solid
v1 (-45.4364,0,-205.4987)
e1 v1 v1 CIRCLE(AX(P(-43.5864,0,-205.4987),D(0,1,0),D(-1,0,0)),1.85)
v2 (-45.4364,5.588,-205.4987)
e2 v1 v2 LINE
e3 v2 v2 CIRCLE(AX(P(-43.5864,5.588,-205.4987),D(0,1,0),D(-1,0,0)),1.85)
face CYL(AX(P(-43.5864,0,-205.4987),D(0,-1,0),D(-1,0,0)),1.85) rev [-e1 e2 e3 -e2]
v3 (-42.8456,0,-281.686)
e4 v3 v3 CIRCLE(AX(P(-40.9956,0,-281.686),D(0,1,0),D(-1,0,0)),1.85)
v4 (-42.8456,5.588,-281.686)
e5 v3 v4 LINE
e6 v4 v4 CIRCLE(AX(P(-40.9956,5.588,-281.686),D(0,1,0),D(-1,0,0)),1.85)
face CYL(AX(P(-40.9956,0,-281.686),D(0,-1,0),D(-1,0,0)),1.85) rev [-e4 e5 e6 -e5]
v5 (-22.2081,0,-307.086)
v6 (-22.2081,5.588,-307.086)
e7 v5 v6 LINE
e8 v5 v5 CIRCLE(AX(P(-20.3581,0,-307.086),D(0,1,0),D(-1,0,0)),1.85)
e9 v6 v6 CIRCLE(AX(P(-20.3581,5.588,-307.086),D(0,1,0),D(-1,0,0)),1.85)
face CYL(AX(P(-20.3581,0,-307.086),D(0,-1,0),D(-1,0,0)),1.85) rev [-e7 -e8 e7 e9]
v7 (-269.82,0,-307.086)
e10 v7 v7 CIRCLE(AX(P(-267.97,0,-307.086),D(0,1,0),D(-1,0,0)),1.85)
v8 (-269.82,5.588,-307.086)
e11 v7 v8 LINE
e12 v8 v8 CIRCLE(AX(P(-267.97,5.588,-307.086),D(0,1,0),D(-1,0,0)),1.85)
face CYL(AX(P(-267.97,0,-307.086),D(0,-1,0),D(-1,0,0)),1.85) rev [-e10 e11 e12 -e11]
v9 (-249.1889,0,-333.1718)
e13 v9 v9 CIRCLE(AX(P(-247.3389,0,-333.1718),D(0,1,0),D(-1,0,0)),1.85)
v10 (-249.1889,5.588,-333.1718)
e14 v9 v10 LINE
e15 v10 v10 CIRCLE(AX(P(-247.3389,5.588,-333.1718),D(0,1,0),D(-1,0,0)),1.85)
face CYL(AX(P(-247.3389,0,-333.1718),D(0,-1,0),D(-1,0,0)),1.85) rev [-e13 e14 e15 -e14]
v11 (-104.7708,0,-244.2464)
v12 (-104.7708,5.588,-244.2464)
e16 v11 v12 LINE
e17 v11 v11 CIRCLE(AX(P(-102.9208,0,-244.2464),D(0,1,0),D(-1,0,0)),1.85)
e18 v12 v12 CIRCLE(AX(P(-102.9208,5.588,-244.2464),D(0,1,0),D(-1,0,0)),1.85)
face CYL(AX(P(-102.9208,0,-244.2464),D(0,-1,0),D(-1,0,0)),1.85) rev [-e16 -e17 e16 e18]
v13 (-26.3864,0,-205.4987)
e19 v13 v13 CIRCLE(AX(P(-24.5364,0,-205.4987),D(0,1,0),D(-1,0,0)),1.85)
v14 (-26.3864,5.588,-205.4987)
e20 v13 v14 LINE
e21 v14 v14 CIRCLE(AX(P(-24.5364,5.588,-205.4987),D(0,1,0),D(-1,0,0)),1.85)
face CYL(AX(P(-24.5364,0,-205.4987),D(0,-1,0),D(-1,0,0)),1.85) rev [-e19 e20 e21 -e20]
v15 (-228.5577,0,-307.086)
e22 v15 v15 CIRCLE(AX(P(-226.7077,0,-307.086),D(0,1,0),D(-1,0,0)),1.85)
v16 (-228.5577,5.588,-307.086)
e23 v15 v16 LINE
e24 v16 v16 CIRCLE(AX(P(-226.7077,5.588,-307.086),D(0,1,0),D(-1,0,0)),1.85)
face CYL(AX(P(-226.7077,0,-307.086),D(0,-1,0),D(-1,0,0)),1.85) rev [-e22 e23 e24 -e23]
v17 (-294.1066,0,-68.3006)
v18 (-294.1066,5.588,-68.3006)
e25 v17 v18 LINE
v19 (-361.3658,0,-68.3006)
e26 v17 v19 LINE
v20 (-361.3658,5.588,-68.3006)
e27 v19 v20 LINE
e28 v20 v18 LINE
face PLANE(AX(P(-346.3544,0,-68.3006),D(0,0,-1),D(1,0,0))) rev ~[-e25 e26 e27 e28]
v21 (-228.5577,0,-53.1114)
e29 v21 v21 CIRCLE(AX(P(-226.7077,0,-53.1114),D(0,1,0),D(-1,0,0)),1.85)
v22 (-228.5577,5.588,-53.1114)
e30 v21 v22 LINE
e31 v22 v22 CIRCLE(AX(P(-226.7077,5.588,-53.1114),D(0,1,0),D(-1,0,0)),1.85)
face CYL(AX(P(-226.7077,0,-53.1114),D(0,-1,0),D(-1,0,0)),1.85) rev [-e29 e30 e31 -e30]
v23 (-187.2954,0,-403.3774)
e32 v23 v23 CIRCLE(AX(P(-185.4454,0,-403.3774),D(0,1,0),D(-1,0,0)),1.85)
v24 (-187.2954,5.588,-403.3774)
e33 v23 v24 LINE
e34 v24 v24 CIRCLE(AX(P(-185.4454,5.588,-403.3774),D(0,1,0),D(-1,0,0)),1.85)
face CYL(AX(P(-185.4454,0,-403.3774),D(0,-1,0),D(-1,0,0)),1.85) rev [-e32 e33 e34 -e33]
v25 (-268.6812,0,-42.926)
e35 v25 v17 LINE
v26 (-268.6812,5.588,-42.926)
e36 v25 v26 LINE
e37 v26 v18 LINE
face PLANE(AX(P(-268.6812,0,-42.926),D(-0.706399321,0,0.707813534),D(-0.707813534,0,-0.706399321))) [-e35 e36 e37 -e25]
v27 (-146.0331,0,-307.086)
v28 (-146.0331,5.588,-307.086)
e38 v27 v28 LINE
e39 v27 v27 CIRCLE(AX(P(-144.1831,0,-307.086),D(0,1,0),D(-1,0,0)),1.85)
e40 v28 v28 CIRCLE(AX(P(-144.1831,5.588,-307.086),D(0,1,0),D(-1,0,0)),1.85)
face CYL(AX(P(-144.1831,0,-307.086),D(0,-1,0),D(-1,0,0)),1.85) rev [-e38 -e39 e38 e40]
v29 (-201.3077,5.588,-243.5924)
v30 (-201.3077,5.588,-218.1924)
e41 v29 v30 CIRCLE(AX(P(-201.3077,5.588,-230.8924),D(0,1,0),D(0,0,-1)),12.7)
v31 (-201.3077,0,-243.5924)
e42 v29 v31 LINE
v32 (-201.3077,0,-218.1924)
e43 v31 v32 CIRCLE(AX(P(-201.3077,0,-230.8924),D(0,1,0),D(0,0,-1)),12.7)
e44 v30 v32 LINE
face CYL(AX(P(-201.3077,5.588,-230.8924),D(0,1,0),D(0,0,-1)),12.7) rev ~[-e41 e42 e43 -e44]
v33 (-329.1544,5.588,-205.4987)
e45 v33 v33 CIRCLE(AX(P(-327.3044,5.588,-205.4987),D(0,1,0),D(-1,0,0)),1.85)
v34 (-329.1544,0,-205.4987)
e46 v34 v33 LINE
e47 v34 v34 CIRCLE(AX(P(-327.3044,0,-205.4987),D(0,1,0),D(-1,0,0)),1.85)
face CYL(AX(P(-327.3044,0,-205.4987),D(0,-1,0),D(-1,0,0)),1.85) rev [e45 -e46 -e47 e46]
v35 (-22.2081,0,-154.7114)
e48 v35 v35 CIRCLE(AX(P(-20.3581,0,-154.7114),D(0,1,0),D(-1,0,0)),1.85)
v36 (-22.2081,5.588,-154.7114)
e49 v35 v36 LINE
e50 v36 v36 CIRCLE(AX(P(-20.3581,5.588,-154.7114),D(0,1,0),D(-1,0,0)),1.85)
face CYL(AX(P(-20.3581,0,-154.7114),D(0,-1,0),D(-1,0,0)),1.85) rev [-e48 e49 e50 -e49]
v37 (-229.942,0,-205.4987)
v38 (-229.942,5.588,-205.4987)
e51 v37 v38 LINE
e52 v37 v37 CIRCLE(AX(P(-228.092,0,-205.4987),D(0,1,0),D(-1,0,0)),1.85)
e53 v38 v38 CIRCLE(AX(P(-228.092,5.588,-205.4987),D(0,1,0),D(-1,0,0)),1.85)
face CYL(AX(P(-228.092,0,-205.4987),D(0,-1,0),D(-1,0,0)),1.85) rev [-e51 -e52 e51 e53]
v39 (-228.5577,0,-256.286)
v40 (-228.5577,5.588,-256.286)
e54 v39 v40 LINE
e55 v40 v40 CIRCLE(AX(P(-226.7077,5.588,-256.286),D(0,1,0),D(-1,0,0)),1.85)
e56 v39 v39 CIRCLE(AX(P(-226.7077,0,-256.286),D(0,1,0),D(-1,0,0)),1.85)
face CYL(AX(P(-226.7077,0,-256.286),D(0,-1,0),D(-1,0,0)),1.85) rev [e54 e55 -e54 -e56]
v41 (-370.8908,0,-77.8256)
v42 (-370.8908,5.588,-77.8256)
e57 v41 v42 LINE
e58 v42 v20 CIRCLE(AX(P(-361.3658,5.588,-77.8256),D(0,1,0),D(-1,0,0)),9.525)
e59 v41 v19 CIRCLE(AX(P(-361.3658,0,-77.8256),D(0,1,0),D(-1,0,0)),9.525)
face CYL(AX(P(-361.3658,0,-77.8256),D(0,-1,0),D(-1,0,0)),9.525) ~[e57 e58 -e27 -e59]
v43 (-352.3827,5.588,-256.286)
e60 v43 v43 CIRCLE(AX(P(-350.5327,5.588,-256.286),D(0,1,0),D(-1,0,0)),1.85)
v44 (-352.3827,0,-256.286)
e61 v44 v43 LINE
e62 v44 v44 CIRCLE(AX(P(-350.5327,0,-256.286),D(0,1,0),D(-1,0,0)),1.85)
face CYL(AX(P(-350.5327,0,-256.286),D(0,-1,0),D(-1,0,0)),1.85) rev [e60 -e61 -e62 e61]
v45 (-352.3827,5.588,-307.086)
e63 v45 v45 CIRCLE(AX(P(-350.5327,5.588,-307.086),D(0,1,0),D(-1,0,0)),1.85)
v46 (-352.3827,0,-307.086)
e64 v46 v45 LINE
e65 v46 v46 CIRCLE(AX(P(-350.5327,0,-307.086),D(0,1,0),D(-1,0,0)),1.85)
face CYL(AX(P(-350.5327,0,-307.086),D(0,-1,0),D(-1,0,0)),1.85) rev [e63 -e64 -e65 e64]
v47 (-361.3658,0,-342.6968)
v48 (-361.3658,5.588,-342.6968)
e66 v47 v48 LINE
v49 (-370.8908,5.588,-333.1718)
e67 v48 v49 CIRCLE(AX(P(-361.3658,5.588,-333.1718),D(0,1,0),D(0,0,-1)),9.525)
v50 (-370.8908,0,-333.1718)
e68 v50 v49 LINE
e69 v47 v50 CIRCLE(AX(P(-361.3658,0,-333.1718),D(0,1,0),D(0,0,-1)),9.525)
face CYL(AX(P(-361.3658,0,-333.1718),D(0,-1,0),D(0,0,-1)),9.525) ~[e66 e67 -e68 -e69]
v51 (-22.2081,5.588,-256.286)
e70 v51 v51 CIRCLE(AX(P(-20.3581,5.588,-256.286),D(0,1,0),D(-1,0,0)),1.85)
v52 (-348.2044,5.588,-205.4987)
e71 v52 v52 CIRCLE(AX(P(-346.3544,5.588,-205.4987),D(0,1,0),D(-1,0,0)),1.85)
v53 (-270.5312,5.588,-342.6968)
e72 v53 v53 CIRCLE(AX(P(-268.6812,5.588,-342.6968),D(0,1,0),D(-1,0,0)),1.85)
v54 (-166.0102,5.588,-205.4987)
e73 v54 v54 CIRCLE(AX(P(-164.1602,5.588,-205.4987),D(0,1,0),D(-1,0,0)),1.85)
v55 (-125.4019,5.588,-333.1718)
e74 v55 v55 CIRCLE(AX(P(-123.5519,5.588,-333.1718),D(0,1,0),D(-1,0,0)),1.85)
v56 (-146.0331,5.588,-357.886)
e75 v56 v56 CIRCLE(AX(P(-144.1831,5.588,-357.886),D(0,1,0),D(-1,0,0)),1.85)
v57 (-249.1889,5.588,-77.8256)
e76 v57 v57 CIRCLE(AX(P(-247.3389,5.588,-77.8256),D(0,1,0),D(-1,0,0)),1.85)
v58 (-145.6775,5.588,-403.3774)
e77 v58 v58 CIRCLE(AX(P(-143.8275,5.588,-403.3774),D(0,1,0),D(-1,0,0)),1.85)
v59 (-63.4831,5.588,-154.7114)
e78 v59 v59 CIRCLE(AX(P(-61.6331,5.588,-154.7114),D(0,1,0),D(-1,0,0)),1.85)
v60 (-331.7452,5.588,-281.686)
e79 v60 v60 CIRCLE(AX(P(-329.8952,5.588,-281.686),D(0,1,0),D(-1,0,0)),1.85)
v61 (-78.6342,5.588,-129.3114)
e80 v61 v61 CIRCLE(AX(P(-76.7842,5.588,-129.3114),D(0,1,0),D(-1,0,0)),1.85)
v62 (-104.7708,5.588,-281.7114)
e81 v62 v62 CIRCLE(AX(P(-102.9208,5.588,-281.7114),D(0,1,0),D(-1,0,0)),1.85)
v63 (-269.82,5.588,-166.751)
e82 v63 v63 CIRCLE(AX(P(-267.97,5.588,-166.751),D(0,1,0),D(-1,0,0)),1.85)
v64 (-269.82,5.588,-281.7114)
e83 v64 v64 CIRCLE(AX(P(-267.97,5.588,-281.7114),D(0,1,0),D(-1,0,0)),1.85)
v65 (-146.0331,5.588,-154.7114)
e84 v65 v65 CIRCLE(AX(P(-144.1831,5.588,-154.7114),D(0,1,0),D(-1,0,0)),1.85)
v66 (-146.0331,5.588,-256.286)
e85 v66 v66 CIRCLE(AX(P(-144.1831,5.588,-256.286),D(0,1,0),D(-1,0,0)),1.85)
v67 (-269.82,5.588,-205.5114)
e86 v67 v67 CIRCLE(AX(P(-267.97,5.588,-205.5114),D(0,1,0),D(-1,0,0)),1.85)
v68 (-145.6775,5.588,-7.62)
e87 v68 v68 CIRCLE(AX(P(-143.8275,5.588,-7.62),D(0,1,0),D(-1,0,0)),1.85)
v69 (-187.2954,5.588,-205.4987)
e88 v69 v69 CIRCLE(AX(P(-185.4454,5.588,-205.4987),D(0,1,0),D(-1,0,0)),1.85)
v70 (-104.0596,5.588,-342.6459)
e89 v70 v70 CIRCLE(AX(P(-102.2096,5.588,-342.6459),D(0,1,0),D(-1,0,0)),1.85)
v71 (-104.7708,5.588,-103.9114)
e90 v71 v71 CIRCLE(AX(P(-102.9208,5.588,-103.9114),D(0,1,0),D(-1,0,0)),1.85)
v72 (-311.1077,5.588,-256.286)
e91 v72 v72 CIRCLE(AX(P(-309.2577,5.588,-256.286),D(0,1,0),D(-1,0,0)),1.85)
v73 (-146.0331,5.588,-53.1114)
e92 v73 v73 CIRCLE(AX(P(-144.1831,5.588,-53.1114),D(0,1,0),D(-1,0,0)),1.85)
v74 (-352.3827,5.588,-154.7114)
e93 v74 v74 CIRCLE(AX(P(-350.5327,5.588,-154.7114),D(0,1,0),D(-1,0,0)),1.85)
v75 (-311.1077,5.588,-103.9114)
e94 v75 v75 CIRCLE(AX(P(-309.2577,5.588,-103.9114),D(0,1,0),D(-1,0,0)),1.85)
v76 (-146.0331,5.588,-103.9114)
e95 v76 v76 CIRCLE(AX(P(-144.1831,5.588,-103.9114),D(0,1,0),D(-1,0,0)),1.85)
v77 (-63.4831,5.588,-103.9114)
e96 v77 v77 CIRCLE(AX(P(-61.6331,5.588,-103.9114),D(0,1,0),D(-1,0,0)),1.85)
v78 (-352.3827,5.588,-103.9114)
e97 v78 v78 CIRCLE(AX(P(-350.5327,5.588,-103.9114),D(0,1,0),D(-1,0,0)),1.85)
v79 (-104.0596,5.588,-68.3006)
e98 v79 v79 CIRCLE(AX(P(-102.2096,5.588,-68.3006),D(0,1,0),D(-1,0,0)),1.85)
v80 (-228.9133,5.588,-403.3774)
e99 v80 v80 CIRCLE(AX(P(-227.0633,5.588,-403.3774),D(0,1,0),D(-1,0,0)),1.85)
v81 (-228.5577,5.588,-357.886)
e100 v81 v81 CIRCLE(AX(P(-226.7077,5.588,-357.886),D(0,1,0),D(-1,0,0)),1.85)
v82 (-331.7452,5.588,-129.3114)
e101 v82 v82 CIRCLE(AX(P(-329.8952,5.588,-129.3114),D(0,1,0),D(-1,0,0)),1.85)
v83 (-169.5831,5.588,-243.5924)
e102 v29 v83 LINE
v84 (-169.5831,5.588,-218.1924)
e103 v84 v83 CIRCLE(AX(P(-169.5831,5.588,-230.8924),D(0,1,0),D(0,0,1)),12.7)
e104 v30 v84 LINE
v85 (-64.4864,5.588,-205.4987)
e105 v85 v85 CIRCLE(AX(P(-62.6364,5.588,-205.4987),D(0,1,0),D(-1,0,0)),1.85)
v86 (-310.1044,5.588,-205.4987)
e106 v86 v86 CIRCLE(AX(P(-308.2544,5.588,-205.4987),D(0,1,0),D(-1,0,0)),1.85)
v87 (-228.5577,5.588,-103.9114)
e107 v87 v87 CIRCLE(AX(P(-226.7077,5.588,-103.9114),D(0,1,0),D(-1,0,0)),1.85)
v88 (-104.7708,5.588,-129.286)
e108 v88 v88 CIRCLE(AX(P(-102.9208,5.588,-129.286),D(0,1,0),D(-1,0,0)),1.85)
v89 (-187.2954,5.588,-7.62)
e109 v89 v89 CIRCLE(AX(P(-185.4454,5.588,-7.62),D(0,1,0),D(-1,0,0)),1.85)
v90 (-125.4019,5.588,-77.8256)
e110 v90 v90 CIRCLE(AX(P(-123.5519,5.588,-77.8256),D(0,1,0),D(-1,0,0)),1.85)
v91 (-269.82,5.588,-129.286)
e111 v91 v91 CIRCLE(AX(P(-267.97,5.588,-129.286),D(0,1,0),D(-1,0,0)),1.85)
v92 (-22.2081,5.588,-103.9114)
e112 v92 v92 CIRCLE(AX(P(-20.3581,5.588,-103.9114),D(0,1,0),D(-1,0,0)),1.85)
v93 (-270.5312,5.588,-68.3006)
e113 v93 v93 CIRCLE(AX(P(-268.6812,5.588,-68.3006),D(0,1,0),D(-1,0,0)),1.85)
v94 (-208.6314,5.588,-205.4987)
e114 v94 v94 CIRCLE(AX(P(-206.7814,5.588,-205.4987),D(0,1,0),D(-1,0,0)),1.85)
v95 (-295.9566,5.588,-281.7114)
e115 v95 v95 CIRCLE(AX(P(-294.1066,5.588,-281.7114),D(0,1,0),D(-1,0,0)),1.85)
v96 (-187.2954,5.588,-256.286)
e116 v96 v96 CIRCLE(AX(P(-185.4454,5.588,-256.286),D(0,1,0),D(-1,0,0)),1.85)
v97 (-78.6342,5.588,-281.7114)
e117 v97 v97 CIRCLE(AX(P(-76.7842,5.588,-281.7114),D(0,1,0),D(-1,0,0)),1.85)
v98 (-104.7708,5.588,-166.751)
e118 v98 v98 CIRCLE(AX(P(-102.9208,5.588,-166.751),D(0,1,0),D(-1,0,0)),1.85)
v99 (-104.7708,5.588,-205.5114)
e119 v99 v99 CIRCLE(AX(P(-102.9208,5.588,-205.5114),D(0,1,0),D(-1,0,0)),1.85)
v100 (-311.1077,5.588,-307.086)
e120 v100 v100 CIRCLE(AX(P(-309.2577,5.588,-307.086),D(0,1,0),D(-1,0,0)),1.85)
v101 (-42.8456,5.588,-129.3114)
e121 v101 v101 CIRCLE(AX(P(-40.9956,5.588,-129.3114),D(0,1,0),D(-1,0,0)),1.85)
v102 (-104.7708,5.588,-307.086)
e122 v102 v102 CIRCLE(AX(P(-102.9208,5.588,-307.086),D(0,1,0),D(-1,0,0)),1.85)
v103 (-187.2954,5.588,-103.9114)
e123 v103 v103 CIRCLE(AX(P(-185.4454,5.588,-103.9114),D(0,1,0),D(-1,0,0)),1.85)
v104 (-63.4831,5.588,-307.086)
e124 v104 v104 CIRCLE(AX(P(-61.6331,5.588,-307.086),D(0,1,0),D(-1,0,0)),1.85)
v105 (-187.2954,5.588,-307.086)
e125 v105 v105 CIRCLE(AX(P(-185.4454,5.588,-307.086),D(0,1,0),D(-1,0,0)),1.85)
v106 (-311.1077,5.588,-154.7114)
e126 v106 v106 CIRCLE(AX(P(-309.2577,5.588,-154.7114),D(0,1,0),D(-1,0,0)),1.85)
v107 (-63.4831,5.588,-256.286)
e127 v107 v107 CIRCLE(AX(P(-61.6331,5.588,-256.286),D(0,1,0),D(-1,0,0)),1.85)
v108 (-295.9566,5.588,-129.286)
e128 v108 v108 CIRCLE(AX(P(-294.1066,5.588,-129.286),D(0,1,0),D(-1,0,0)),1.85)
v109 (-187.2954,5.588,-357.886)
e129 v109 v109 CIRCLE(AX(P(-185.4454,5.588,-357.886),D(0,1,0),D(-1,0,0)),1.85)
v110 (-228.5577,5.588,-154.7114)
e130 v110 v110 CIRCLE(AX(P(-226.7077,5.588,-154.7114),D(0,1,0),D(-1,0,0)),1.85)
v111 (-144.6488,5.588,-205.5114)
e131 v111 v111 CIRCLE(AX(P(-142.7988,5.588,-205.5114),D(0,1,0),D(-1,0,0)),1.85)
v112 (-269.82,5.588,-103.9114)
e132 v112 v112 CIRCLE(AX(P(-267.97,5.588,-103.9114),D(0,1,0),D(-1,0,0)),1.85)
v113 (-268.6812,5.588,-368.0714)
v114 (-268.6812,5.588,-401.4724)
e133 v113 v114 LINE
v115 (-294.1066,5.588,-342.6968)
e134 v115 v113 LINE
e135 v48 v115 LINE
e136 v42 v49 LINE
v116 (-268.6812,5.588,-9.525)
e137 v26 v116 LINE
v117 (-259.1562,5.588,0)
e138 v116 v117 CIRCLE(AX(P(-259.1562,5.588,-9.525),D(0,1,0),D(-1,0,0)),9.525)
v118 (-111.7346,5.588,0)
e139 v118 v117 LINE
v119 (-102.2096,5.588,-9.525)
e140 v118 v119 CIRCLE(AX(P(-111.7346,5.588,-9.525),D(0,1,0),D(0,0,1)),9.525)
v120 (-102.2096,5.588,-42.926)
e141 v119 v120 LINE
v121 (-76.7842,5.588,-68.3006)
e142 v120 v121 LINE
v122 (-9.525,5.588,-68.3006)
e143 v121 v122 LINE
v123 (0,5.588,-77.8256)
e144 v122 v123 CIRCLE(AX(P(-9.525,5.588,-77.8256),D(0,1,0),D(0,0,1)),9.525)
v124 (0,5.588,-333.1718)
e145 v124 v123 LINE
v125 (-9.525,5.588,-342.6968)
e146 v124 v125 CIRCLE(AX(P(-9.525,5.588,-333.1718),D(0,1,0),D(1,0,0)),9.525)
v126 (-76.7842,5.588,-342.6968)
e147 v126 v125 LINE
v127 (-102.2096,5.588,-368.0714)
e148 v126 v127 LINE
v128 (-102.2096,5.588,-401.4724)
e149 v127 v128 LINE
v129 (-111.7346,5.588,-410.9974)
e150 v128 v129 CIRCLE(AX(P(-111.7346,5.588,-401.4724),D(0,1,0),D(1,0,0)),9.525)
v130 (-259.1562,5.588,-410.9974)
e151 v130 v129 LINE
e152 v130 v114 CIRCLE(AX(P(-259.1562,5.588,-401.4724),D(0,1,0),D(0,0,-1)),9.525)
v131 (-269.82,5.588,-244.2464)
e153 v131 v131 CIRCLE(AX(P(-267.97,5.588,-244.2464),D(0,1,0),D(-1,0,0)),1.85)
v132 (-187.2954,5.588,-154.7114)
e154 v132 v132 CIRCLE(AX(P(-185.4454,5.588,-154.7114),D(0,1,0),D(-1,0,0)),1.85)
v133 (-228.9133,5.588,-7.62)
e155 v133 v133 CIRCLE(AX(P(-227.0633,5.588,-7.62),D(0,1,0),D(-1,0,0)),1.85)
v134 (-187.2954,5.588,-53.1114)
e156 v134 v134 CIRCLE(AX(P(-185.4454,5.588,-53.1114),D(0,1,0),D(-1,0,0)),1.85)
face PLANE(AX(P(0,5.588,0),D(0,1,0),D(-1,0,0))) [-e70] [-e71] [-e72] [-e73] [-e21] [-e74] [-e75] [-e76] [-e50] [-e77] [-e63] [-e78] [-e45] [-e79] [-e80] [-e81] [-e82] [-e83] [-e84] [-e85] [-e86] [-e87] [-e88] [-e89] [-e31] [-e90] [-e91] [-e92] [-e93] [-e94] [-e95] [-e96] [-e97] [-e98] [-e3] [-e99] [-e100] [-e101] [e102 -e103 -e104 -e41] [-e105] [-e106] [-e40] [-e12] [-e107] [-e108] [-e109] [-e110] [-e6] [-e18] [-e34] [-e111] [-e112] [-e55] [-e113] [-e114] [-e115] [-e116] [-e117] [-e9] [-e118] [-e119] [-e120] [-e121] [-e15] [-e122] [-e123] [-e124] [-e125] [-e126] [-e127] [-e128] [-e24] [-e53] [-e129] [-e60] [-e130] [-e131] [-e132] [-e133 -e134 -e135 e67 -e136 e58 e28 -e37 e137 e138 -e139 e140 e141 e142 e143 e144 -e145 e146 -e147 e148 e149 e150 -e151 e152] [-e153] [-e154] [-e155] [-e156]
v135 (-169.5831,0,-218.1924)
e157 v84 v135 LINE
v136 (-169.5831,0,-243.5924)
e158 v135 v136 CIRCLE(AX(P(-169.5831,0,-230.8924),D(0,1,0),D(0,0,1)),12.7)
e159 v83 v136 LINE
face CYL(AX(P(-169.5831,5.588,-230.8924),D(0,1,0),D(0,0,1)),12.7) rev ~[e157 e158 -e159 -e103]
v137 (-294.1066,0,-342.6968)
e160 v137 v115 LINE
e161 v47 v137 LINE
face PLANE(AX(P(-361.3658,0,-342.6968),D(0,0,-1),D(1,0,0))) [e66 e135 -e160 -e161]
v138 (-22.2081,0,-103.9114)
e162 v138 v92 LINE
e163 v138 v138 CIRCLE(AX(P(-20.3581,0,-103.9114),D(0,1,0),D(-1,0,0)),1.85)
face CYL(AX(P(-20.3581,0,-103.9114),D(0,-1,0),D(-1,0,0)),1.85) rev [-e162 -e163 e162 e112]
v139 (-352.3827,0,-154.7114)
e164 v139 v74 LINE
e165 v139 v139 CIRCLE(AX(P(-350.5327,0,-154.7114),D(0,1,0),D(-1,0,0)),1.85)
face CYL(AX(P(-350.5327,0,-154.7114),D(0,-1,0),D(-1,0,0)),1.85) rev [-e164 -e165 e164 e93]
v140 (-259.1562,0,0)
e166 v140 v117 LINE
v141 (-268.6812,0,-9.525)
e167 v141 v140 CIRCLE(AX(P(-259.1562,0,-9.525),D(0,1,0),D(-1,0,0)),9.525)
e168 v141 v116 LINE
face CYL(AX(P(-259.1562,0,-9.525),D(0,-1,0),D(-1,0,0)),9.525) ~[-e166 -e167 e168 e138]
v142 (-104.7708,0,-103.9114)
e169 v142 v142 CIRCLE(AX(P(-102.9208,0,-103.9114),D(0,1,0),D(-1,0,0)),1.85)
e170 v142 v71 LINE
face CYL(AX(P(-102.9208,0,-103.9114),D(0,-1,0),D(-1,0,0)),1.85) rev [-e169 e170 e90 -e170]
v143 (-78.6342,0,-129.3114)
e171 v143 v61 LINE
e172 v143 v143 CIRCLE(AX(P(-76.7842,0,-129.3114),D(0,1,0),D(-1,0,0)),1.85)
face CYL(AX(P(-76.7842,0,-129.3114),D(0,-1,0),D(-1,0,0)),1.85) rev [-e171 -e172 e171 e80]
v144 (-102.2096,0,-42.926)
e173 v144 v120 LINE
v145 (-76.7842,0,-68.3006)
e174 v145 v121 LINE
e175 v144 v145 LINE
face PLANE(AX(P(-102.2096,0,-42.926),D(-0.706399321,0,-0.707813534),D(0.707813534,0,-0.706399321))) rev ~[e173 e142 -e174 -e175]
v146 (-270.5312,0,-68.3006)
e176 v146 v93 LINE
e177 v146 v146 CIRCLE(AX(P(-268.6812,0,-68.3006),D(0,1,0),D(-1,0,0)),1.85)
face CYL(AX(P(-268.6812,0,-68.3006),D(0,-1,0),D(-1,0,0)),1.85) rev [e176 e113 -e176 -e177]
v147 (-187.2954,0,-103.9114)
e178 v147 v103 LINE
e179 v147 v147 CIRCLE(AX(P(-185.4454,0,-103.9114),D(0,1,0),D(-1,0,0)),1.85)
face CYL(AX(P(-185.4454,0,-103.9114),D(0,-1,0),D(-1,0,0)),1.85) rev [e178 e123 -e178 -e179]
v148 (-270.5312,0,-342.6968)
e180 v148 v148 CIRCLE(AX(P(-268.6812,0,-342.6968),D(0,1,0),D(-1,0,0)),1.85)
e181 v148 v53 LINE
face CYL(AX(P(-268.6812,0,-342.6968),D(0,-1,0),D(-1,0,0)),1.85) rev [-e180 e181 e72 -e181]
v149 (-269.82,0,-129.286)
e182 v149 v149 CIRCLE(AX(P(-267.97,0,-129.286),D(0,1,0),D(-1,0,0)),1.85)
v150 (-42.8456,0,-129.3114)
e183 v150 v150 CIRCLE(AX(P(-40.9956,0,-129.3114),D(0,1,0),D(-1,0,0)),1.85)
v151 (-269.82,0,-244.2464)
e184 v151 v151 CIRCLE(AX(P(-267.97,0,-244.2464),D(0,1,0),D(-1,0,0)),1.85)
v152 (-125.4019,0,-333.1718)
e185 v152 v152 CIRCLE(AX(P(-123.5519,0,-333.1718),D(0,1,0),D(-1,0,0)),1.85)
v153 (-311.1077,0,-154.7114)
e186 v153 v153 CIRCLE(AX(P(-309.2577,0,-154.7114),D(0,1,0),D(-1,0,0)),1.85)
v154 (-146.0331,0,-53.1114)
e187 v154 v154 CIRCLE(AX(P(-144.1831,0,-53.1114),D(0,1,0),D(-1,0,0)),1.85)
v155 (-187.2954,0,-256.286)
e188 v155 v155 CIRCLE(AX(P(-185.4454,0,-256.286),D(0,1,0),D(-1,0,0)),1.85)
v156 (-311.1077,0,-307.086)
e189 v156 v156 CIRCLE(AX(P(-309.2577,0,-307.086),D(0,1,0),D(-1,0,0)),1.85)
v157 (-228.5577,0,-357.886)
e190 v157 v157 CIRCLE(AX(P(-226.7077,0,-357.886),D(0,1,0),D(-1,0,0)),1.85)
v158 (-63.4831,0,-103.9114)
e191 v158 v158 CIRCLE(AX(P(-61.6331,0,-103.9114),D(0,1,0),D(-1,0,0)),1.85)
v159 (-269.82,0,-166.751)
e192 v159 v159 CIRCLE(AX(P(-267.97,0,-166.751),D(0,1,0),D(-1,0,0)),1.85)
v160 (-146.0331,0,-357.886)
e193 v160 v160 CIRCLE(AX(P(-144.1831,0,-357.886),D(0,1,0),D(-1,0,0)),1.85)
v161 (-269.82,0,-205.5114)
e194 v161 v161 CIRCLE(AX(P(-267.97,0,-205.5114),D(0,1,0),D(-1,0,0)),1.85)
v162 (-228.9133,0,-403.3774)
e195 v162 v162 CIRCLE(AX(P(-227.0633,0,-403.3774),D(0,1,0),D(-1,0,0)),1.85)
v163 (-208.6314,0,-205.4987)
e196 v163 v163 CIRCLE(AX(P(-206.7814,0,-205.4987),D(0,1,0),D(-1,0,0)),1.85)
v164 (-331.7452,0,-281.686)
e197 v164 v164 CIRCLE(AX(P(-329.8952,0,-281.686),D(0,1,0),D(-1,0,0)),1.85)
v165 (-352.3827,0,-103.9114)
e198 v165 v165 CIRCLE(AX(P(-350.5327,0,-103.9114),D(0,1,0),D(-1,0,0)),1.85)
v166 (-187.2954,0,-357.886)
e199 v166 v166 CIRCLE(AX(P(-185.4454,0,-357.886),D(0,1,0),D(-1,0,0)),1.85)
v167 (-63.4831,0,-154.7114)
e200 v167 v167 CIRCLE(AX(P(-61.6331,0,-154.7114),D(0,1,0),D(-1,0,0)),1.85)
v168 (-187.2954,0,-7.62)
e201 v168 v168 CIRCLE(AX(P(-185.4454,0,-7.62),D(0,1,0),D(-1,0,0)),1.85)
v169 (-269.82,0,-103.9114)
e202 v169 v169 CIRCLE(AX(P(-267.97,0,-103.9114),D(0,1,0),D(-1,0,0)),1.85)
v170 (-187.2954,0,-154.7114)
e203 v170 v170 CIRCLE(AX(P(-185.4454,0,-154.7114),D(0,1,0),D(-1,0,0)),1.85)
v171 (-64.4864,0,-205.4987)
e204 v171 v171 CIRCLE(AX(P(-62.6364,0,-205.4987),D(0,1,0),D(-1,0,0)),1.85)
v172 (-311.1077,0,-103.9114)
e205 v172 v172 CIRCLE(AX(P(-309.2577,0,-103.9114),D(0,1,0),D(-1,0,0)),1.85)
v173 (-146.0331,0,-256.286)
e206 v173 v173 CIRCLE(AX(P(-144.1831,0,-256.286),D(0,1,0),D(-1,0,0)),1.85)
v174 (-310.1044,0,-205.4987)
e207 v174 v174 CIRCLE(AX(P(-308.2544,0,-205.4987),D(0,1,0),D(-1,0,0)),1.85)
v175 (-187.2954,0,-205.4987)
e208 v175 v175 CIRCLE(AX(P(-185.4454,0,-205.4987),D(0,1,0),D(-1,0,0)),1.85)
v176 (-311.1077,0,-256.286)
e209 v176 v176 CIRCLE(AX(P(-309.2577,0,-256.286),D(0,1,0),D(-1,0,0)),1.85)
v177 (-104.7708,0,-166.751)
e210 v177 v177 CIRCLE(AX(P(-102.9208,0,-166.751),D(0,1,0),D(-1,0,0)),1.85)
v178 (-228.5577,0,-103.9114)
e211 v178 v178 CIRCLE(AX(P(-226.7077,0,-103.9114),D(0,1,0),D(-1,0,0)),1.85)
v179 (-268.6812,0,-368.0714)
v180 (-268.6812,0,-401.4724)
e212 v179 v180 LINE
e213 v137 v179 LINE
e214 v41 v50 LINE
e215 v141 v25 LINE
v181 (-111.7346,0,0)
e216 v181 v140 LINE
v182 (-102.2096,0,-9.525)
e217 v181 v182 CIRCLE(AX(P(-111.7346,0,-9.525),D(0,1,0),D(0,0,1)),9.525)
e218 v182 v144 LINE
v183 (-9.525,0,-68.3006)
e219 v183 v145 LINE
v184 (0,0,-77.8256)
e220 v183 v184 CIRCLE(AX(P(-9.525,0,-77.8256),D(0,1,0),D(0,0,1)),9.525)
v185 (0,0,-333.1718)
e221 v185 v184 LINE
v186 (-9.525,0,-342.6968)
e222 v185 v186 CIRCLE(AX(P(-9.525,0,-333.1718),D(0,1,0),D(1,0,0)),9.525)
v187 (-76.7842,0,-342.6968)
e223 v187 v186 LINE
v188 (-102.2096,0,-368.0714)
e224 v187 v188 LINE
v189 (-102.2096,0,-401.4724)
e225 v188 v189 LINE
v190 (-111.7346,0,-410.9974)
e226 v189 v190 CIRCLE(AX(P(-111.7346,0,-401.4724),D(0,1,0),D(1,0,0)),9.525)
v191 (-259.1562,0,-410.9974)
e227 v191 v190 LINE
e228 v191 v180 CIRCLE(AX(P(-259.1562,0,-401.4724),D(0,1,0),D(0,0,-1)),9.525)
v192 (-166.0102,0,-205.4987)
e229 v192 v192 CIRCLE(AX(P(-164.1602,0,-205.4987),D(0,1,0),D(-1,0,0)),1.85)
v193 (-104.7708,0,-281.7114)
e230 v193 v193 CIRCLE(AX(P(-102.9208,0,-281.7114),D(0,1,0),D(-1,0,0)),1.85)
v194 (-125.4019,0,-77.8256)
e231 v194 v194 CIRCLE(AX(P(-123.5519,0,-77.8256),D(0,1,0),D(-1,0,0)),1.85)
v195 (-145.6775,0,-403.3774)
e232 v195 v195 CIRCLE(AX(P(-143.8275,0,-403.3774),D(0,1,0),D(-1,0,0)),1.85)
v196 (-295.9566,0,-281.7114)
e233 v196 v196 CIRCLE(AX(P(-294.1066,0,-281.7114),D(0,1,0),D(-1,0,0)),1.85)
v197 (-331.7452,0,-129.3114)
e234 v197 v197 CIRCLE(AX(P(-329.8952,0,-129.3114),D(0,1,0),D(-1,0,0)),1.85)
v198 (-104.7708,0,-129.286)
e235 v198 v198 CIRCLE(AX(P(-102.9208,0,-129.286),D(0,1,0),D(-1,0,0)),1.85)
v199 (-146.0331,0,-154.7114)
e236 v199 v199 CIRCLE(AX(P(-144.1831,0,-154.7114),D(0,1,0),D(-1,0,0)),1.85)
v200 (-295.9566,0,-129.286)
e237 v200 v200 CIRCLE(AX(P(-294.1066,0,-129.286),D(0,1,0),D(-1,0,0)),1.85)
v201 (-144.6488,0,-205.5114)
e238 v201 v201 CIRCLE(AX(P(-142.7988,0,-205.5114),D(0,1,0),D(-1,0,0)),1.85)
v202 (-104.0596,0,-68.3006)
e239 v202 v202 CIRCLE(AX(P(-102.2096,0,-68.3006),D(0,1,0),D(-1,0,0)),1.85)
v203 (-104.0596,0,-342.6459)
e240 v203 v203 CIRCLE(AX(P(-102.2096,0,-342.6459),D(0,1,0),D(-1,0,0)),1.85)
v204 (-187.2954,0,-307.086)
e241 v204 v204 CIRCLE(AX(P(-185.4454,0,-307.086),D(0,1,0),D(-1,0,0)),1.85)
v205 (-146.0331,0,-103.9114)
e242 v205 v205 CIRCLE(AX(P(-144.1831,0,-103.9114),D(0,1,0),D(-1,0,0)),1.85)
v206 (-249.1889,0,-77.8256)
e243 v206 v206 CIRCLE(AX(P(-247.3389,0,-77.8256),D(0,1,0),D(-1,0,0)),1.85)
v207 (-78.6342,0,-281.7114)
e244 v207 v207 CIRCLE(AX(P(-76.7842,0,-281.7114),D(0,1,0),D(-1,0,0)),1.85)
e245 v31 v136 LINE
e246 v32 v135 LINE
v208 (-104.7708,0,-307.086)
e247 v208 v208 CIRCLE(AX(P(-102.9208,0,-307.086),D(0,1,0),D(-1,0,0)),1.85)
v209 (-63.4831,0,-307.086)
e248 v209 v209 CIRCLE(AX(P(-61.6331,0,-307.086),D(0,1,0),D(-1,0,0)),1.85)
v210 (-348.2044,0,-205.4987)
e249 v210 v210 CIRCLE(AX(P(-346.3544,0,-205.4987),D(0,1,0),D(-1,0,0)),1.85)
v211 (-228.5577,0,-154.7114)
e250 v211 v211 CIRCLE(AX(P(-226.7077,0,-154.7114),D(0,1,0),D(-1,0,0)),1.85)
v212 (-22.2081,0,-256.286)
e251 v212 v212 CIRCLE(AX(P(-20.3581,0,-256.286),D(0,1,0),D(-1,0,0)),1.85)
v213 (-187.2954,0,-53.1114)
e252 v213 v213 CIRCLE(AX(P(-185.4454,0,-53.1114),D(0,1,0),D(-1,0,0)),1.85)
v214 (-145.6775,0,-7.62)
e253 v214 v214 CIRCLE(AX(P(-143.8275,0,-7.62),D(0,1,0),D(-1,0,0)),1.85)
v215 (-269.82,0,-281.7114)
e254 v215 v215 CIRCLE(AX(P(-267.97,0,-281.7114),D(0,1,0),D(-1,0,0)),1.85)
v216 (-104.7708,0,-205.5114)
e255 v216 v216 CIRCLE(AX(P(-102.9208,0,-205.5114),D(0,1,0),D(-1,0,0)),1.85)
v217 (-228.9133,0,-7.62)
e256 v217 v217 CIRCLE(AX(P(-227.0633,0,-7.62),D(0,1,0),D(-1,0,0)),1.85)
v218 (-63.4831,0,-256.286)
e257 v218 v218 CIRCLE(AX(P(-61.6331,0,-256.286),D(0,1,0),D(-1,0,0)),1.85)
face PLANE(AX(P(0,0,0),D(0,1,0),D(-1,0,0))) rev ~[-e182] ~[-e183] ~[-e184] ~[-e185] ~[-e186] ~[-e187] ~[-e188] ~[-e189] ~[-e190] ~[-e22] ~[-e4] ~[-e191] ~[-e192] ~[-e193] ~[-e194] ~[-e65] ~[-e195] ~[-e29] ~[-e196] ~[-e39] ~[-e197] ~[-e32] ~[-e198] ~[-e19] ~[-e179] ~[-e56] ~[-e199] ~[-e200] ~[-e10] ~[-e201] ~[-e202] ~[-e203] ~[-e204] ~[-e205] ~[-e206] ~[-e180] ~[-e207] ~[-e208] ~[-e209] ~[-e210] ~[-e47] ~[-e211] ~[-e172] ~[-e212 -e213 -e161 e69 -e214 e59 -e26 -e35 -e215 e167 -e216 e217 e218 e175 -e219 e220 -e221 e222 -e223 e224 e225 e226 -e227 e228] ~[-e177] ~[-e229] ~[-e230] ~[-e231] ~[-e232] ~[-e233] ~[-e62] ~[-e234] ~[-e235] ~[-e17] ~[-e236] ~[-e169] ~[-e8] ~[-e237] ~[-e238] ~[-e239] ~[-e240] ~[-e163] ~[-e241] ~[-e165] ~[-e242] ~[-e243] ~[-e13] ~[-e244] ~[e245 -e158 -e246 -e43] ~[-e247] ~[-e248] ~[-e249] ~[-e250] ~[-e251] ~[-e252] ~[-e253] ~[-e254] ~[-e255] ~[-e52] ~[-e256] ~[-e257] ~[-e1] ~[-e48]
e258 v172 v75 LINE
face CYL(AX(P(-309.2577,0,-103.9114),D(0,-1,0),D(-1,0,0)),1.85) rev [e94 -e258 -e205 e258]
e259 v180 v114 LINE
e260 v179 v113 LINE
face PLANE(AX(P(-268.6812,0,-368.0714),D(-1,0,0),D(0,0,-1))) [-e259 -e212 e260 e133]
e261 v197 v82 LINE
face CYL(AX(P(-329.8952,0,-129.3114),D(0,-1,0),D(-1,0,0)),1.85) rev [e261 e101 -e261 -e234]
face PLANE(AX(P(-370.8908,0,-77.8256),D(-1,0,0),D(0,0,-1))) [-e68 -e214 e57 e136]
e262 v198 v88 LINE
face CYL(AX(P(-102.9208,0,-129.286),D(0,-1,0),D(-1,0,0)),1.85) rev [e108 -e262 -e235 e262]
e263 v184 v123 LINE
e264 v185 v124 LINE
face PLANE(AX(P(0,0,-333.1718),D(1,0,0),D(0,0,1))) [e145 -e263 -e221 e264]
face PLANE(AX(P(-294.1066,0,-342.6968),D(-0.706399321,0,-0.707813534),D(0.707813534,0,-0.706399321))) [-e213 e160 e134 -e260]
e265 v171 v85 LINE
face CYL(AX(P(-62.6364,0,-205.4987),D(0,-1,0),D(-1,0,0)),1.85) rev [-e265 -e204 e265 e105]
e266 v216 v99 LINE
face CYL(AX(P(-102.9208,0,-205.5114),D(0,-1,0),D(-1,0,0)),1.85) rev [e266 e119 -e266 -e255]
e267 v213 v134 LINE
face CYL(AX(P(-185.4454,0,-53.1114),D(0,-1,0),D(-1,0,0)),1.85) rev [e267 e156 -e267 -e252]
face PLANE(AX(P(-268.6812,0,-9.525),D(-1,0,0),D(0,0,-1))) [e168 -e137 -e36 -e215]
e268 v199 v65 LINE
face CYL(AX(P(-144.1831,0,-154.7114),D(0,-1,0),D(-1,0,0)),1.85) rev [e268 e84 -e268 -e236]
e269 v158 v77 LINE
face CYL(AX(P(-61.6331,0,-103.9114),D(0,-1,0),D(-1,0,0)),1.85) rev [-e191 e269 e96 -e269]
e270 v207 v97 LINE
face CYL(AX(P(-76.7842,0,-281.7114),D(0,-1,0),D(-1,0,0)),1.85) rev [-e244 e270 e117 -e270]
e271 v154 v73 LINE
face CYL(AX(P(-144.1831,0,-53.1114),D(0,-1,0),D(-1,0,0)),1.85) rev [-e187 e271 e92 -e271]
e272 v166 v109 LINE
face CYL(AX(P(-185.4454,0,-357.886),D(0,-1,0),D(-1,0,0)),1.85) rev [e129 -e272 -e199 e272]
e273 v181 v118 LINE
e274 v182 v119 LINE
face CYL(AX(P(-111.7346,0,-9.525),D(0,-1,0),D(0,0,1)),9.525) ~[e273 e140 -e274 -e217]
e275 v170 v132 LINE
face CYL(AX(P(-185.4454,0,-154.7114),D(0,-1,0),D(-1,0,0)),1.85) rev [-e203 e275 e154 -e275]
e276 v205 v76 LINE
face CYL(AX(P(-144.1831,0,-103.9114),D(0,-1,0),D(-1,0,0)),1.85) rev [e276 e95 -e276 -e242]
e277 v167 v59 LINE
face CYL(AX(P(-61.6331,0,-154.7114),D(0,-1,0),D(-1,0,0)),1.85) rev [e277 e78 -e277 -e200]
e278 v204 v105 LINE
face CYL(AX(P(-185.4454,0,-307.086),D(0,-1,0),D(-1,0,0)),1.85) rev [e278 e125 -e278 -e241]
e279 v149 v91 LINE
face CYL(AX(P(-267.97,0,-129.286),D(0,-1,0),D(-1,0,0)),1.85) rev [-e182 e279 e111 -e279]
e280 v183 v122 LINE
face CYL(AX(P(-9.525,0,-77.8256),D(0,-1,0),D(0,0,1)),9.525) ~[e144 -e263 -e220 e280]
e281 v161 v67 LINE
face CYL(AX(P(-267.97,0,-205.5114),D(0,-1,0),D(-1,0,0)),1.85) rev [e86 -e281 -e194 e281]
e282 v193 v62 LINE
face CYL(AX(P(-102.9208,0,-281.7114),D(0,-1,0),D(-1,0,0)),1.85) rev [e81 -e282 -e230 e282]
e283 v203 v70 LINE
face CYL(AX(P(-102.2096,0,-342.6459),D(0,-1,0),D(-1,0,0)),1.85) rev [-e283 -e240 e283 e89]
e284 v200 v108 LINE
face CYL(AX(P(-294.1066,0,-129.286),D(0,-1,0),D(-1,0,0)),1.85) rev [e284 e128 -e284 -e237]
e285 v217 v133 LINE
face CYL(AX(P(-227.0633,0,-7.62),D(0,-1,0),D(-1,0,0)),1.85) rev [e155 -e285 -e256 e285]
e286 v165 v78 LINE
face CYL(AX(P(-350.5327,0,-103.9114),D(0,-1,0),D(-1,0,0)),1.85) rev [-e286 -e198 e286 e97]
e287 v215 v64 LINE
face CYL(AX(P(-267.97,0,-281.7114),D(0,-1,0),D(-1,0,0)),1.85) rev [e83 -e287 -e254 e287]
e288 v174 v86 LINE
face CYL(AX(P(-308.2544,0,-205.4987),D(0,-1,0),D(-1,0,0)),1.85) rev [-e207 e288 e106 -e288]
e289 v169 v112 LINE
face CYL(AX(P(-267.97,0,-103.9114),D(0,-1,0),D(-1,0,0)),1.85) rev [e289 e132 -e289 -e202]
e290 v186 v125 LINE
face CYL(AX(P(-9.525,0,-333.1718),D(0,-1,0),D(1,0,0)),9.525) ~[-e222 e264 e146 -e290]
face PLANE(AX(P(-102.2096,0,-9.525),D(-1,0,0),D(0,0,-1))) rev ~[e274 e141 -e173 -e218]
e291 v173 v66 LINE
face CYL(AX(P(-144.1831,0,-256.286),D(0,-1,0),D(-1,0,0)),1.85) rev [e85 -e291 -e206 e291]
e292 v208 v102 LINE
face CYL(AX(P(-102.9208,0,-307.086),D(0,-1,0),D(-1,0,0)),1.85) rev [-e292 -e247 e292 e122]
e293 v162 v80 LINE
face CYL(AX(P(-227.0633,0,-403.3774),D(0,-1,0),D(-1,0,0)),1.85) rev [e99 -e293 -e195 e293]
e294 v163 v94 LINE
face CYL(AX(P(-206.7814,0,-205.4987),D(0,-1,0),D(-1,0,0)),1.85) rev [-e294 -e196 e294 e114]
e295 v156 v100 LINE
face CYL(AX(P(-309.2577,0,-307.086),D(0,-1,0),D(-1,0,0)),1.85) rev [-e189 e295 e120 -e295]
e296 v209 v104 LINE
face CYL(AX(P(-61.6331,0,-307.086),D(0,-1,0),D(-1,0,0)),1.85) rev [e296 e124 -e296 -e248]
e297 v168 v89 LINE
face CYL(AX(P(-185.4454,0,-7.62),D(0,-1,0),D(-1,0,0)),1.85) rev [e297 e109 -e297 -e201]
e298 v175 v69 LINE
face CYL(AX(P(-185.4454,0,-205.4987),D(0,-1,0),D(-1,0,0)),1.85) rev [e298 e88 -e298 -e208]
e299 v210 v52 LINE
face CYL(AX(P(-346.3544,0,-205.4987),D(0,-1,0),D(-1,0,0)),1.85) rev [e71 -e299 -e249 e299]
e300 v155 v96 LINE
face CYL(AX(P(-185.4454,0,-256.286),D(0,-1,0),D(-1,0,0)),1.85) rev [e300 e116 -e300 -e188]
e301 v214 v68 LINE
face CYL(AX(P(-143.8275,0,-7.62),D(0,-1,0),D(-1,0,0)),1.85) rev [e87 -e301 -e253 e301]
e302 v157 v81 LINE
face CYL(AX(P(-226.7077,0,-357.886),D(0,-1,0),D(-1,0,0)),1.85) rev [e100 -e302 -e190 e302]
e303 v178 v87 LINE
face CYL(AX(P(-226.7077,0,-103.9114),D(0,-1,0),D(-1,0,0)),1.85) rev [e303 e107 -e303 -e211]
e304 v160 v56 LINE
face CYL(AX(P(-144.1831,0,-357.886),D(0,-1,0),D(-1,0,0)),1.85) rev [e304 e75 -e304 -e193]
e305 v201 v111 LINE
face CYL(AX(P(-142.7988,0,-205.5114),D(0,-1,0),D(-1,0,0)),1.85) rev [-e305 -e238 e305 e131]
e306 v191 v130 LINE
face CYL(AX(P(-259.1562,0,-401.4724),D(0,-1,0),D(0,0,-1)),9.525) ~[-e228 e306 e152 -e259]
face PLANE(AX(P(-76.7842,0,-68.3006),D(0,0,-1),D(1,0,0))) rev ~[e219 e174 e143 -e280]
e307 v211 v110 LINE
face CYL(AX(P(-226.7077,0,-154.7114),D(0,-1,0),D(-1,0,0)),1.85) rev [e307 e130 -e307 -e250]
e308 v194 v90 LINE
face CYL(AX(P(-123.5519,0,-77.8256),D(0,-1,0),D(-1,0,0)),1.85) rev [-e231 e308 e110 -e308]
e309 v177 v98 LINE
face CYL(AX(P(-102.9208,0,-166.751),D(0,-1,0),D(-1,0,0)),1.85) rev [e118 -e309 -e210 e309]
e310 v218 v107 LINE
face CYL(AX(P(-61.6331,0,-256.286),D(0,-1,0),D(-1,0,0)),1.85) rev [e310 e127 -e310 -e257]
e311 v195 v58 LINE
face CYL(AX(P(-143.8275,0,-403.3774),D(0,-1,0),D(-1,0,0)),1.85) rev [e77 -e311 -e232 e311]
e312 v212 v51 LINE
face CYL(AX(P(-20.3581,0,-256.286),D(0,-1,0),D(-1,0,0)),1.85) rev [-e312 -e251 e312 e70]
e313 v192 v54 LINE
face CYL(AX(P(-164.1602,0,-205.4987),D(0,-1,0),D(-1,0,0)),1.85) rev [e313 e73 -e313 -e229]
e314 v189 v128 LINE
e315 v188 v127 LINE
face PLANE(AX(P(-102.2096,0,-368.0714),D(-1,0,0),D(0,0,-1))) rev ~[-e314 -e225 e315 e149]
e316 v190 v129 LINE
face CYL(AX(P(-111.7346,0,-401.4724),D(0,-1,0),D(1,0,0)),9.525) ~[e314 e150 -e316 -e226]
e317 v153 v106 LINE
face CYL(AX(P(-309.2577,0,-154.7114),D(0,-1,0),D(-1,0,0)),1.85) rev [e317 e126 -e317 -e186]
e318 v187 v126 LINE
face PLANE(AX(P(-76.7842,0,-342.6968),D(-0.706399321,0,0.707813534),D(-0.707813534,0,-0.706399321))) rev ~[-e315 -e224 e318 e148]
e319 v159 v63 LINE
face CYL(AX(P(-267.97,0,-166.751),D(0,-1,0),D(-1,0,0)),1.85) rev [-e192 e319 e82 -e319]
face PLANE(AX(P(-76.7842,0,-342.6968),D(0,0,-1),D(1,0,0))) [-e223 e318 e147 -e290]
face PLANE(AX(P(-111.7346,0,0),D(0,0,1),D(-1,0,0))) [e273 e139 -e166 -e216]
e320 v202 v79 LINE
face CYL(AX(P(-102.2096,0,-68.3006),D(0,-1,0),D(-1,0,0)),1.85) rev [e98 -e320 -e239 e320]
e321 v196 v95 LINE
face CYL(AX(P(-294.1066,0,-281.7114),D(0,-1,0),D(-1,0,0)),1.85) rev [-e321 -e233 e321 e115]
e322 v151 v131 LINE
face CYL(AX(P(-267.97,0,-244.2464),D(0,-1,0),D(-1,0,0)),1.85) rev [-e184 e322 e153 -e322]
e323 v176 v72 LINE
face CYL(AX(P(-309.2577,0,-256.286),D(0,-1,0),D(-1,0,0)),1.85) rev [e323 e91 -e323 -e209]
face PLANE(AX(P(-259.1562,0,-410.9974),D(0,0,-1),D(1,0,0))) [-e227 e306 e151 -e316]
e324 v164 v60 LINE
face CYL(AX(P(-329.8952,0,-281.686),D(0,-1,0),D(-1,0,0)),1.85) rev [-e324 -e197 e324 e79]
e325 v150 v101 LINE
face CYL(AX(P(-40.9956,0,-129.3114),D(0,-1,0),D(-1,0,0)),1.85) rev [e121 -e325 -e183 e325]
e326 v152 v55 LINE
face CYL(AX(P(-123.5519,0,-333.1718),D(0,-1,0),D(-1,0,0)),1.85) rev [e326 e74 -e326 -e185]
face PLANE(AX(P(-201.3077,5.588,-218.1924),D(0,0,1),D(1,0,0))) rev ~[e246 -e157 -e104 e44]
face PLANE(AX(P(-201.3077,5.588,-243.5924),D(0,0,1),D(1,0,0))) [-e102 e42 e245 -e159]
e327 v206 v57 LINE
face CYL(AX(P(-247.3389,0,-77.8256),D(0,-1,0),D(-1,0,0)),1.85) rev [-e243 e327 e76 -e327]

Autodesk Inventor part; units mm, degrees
ref_plane "YZ Plane" through (0, 0, 0) normal (1, 0, 0) x (0, 1, 0)
ref_plane "XZ Plane" through (0, 0, 0) normal (0, 1, 0) x (-1, 0, 0)
ref_plane "XY Plane" through (0, 0, 0) normal (0, 0, 1) x (1, 0, 0)
sketch "Sketch1" plane through (0, 0, 0) normal (0, 1, 0) x (-1, 0, 0)
  line L0 (111.7346, 0) -> (259.1562, 0)
  line L1 (370.8908, -77.8256) -> (370.8908, -333.1718)
  line L2 (259.1562, -410.9974) -> (111.7346, -410.9974)
  line L3 (0, -333.1718) -> (0, -77.8256)
  line L4 (268.6812, -42.926) -> (294.1066, -68.3006)
  line L5 (294.1066, -342.6968) -> (268.6812, -368.0714)
  line L6 (102.2096, -42.926) -> (76.7842, -68.3006)
  line L7 (76.7842, -342.6968) -> (102.2096, -368.0714)
  line L8 (268.6812, -9.525) -> (268.6812, -42.926)
  line L9 (361.3658, -68.3006) -> (294.1066, -68.3006)
  line L10 (361.3658, -342.6968) -> (294.1066, -342.6968)
  line L11 (268.6812, -368.0714) -> (268.6812, -401.4724)
  line L12 (102.2096, -368.0714) -> (102.2096, -401.4724)
  line L13 (76.7842, -342.6968) -> (9.525, -342.6968)
  line L14 (76.7842, -68.3006) -> (9.525, -68.3006)
  line L15 (102.2096, -9.525) -> (102.2096, -42.926)
  circle A0 centre (185.4454, -7.62) radius 1.85
  circle A1 centre (227.0633, -7.62) radius 1.85
  circle A2 centre (143.8275, -7.62) radius 1.85
  circle A3 centre (227.0633, -403.3774) radius 1.85
  circle A4 centre (185.4454, -403.3774) radius 1.85
  circle A5 centre (143.8275, -403.3774) radius 1.85
  line L16 (361.3658, -68.3006) -> (346.3544, -68.3006)
  line L17 (9.525, -68.3006) -> (24.5364, -68.3006)
  circle A6 centre (346.3544, -205.4987) radius 1.85
  circle A7 centre (327.3044, -205.4987) radius 1.85
  circle A8 centre (308.2544, -205.4987) radius 1.85
  circle A9 centre (62.6364, -205.4987) radius 1.85
  circle A10 centre (43.5864, -205.4987) radius 1.85
  circle A11 centre (24.5364, -205.4987) radius 1.85
  circle A12 centre (228.092, -205.4987) radius 1.85
  circle A13 centre (142.7988, -205.5114) radius 1.85
  circle A14 centre (206.7814, -205.4987) radius 1.85
  circle A15 centre (185.4454, -205.4987) radius 1.85
  circle A16 centre (164.1602, -205.4987) radius 1.85
  circle A17 centre (102.9208, -129.286) radius 1.85
  circle A18 centre (102.9208, -281.7114) radius 1.85
  circle A19 centre (102.9208, -166.751) radius 1.85
  circle A20 centre (102.9208, -244.2464) radius 1.85
  circle A21 centre (102.9208, -205.5114) radius 1.85
  circle A22 centre (267.97, -166.751) radius 1.85
  circle A23 centre (267.97, -205.5114) radius 1.85
  circle A24 centre (267.97, -244.2464) radius 1.85
  circle A25 centre (267.97, -129.286) radius 1.85
  circle A26 centre (267.97, -281.7114) radius 1.85
  circle A27 centre (185.4454, -53.1114) radius 1.85
  circle A28 centre (185.4454, -103.9114) radius 1.85
  circle A29 centre (185.4454, -154.7114) radius 1.85
  circle A30 centre (185.4454, -256.286) radius 1.85
  circle A31 centre (185.4454, -307.086) radius 1.85
  circle A32 centre (185.4454, -357.886) radius 1.85
  circle A33 centre (226.7077, -53.1114) radius 1.85
  circle A34 centre (226.7077, -103.9114) radius 1.85
  circle A35 centre (226.7077, -154.7114) radius 1.85
  circle A36 centre (226.7077, -256.286) radius 1.85
  circle A37 centre (226.7077, -307.086) radius 1.85
  circle A38 centre (226.7077, -357.886) radius 1.85
  circle A39 centre (144.1831, -357.886) radius 1.85
  circle A40 centre (144.1831, -307.086) radius 1.85
  circle A41 centre (144.1831, -256.286) radius 1.85
  circle A42 centre (144.1831, -154.7114) radius 1.85
  circle A43 centre (144.1831, -103.9114) radius 1.85
  circle A44 centre (144.1831, -53.1114) radius 1.85
  circle A45 centre (350.5327, -103.9114) radius 1.85
  circle A46 centre (350.5327, -154.7114) radius 1.85
  circle A47 centre (350.5327, -256.286) radius 1.85
  circle A48 centre (350.5327, -307.086) radius 1.85
  circle A49 centre (309.2577, -103.9114) radius 1.85
  circle A50 centre (309.2577, -154.7114) radius 1.85
  circle A51 centre (309.2577, -256.286) radius 1.85
  circle A52 centre (309.2577, -307.086) radius 1.85
  circle A53 centre (294.1066, -129.286) radius 1.85
  circle A54 centre (294.1066, -281.7114) radius 1.85
  circle A55 centre (329.8952, -281.686) radius 1.85
  circle A56 centre (329.8952, -129.3114) radius 1.85
  circle A57 centre (61.6331, -103.9114) radius 1.85
  circle A58 centre (20.3581, -103.9114) radius 1.85
  circle A59 centre (61.6331, -154.7114) radius 1.85
  circle A60 centre (20.3581, -154.7114) radius 1.85
  circle A61 centre (61.6331, -256.286) radius 1.85
  circle A62 centre (20.3581, -256.286) radius 1.85
  circle A63 centre (61.6331, -307.086) radius 1.85
  circle A64 centre (20.3581, -307.086) radius 1.85
  circle A65 centre (40.9956, -129.3114) radius 1.85
  circle A66 centre (40.9956, -281.686) radius 1.85
  circle A67 centre (76.7842, -129.3114) radius 1.85
  circle A68 centre (76.7842, -281.7114) radius 1.85
  arc A69 (370.8908, -77.8256) -> (361.3658, -68.3006) centre (361.3658, -77.8256) ccw
  arc A70 (361.3658, -342.6968) -> (370.8908, -333.1718) centre (361.3658, -333.1718) ccw
  arc A71 (9.525, -68.3006) -> (0, -77.8256) centre (9.525, -77.8256) ccw
  arc A72 (0, -333.1718) -> (9.525, -342.6968) centre (9.525, -333.1718) ccw
  line L18 (268.6812, -23.9141) -> (268.6812, -9.525)
  arc A73 (268.6812, -9.525) -> (259.1562, 0) centre (259.1562, -9.525) ccw
  arc A74 (259.1562, -410.9974) -> (268.6812, -401.4724) centre (259.1562, -401.4724) ccw
  arc A75 (102.2096, -401.4724) -> (111.7346, -410.9974) centre (111.7346, -401.4724) ccw
  arc A76 (111.7346, 0) -> (102.2096, -9.525) centre (111.7346, -9.525) ccw
  circle A77 centre (267.97, -103.9114) radius 1.85
  circle A78 centre (267.97, -307.086) radius 1.85
  circle A79 centre (102.9208, -307.086) radius 1.85
  circle A80 centre (102.9208, -103.9114) radius 1.85
  circle A81 centre (247.3389, -77.8256) radius 1.85
  circle A82 centre (247.3389, -333.1718) radius 1.85
  circle A83 centre (123.5519, -333.1718) radius 1.85
  circle A84 centre (123.5519, -77.8256) radius 1.85
  circle A85 centre (268.6812, -68.3006) radius 1.85
  circle A86 centre (268.6812, -342.6968) radius 1.85
  circle A87 centre (102.2096, -342.6459) radius 1.85
  circle A88 centre (102.2096, -68.3006) radius 1.85
  point P0 (0, 0)
extrude "Extrusion3" add sketch "Sketch1" along normal blind 5.588
sketch "Sketch3" plane through (0, 5.588, 0) normal (0, 1, 0) x (1, 0, 0)
  circle A0 centre (-226.7077, 256.286) radius 1.85 projected
  circle A1 centre (-228.092, 205.4987) radius 1.85 projected
  circle A2 centre (-144.1831, 256.286) radius 1.85 projected
  line L0 (-201.3077, 243.5924) -> (-169.5831, 243.5924)
  line L1 (-201.3077, 218.1924) -> (-169.5831, 218.1924)
  arc A3 (-169.5831, 218.1924) -> (-169.5831, 243.5924) centre (-169.5831, 230.8924) ccw
  arc A4 (-201.3077, 243.5924) -> (-201.3077, 218.1924) centre (-201.3077, 230.8924) ccw
  point P0 (0, 0)
extrude "Extrusion5" cut sketch "Sketch3" against normal blind 25.4 contours L0 A3 L1 A4
properties part number "MountingPlate"
